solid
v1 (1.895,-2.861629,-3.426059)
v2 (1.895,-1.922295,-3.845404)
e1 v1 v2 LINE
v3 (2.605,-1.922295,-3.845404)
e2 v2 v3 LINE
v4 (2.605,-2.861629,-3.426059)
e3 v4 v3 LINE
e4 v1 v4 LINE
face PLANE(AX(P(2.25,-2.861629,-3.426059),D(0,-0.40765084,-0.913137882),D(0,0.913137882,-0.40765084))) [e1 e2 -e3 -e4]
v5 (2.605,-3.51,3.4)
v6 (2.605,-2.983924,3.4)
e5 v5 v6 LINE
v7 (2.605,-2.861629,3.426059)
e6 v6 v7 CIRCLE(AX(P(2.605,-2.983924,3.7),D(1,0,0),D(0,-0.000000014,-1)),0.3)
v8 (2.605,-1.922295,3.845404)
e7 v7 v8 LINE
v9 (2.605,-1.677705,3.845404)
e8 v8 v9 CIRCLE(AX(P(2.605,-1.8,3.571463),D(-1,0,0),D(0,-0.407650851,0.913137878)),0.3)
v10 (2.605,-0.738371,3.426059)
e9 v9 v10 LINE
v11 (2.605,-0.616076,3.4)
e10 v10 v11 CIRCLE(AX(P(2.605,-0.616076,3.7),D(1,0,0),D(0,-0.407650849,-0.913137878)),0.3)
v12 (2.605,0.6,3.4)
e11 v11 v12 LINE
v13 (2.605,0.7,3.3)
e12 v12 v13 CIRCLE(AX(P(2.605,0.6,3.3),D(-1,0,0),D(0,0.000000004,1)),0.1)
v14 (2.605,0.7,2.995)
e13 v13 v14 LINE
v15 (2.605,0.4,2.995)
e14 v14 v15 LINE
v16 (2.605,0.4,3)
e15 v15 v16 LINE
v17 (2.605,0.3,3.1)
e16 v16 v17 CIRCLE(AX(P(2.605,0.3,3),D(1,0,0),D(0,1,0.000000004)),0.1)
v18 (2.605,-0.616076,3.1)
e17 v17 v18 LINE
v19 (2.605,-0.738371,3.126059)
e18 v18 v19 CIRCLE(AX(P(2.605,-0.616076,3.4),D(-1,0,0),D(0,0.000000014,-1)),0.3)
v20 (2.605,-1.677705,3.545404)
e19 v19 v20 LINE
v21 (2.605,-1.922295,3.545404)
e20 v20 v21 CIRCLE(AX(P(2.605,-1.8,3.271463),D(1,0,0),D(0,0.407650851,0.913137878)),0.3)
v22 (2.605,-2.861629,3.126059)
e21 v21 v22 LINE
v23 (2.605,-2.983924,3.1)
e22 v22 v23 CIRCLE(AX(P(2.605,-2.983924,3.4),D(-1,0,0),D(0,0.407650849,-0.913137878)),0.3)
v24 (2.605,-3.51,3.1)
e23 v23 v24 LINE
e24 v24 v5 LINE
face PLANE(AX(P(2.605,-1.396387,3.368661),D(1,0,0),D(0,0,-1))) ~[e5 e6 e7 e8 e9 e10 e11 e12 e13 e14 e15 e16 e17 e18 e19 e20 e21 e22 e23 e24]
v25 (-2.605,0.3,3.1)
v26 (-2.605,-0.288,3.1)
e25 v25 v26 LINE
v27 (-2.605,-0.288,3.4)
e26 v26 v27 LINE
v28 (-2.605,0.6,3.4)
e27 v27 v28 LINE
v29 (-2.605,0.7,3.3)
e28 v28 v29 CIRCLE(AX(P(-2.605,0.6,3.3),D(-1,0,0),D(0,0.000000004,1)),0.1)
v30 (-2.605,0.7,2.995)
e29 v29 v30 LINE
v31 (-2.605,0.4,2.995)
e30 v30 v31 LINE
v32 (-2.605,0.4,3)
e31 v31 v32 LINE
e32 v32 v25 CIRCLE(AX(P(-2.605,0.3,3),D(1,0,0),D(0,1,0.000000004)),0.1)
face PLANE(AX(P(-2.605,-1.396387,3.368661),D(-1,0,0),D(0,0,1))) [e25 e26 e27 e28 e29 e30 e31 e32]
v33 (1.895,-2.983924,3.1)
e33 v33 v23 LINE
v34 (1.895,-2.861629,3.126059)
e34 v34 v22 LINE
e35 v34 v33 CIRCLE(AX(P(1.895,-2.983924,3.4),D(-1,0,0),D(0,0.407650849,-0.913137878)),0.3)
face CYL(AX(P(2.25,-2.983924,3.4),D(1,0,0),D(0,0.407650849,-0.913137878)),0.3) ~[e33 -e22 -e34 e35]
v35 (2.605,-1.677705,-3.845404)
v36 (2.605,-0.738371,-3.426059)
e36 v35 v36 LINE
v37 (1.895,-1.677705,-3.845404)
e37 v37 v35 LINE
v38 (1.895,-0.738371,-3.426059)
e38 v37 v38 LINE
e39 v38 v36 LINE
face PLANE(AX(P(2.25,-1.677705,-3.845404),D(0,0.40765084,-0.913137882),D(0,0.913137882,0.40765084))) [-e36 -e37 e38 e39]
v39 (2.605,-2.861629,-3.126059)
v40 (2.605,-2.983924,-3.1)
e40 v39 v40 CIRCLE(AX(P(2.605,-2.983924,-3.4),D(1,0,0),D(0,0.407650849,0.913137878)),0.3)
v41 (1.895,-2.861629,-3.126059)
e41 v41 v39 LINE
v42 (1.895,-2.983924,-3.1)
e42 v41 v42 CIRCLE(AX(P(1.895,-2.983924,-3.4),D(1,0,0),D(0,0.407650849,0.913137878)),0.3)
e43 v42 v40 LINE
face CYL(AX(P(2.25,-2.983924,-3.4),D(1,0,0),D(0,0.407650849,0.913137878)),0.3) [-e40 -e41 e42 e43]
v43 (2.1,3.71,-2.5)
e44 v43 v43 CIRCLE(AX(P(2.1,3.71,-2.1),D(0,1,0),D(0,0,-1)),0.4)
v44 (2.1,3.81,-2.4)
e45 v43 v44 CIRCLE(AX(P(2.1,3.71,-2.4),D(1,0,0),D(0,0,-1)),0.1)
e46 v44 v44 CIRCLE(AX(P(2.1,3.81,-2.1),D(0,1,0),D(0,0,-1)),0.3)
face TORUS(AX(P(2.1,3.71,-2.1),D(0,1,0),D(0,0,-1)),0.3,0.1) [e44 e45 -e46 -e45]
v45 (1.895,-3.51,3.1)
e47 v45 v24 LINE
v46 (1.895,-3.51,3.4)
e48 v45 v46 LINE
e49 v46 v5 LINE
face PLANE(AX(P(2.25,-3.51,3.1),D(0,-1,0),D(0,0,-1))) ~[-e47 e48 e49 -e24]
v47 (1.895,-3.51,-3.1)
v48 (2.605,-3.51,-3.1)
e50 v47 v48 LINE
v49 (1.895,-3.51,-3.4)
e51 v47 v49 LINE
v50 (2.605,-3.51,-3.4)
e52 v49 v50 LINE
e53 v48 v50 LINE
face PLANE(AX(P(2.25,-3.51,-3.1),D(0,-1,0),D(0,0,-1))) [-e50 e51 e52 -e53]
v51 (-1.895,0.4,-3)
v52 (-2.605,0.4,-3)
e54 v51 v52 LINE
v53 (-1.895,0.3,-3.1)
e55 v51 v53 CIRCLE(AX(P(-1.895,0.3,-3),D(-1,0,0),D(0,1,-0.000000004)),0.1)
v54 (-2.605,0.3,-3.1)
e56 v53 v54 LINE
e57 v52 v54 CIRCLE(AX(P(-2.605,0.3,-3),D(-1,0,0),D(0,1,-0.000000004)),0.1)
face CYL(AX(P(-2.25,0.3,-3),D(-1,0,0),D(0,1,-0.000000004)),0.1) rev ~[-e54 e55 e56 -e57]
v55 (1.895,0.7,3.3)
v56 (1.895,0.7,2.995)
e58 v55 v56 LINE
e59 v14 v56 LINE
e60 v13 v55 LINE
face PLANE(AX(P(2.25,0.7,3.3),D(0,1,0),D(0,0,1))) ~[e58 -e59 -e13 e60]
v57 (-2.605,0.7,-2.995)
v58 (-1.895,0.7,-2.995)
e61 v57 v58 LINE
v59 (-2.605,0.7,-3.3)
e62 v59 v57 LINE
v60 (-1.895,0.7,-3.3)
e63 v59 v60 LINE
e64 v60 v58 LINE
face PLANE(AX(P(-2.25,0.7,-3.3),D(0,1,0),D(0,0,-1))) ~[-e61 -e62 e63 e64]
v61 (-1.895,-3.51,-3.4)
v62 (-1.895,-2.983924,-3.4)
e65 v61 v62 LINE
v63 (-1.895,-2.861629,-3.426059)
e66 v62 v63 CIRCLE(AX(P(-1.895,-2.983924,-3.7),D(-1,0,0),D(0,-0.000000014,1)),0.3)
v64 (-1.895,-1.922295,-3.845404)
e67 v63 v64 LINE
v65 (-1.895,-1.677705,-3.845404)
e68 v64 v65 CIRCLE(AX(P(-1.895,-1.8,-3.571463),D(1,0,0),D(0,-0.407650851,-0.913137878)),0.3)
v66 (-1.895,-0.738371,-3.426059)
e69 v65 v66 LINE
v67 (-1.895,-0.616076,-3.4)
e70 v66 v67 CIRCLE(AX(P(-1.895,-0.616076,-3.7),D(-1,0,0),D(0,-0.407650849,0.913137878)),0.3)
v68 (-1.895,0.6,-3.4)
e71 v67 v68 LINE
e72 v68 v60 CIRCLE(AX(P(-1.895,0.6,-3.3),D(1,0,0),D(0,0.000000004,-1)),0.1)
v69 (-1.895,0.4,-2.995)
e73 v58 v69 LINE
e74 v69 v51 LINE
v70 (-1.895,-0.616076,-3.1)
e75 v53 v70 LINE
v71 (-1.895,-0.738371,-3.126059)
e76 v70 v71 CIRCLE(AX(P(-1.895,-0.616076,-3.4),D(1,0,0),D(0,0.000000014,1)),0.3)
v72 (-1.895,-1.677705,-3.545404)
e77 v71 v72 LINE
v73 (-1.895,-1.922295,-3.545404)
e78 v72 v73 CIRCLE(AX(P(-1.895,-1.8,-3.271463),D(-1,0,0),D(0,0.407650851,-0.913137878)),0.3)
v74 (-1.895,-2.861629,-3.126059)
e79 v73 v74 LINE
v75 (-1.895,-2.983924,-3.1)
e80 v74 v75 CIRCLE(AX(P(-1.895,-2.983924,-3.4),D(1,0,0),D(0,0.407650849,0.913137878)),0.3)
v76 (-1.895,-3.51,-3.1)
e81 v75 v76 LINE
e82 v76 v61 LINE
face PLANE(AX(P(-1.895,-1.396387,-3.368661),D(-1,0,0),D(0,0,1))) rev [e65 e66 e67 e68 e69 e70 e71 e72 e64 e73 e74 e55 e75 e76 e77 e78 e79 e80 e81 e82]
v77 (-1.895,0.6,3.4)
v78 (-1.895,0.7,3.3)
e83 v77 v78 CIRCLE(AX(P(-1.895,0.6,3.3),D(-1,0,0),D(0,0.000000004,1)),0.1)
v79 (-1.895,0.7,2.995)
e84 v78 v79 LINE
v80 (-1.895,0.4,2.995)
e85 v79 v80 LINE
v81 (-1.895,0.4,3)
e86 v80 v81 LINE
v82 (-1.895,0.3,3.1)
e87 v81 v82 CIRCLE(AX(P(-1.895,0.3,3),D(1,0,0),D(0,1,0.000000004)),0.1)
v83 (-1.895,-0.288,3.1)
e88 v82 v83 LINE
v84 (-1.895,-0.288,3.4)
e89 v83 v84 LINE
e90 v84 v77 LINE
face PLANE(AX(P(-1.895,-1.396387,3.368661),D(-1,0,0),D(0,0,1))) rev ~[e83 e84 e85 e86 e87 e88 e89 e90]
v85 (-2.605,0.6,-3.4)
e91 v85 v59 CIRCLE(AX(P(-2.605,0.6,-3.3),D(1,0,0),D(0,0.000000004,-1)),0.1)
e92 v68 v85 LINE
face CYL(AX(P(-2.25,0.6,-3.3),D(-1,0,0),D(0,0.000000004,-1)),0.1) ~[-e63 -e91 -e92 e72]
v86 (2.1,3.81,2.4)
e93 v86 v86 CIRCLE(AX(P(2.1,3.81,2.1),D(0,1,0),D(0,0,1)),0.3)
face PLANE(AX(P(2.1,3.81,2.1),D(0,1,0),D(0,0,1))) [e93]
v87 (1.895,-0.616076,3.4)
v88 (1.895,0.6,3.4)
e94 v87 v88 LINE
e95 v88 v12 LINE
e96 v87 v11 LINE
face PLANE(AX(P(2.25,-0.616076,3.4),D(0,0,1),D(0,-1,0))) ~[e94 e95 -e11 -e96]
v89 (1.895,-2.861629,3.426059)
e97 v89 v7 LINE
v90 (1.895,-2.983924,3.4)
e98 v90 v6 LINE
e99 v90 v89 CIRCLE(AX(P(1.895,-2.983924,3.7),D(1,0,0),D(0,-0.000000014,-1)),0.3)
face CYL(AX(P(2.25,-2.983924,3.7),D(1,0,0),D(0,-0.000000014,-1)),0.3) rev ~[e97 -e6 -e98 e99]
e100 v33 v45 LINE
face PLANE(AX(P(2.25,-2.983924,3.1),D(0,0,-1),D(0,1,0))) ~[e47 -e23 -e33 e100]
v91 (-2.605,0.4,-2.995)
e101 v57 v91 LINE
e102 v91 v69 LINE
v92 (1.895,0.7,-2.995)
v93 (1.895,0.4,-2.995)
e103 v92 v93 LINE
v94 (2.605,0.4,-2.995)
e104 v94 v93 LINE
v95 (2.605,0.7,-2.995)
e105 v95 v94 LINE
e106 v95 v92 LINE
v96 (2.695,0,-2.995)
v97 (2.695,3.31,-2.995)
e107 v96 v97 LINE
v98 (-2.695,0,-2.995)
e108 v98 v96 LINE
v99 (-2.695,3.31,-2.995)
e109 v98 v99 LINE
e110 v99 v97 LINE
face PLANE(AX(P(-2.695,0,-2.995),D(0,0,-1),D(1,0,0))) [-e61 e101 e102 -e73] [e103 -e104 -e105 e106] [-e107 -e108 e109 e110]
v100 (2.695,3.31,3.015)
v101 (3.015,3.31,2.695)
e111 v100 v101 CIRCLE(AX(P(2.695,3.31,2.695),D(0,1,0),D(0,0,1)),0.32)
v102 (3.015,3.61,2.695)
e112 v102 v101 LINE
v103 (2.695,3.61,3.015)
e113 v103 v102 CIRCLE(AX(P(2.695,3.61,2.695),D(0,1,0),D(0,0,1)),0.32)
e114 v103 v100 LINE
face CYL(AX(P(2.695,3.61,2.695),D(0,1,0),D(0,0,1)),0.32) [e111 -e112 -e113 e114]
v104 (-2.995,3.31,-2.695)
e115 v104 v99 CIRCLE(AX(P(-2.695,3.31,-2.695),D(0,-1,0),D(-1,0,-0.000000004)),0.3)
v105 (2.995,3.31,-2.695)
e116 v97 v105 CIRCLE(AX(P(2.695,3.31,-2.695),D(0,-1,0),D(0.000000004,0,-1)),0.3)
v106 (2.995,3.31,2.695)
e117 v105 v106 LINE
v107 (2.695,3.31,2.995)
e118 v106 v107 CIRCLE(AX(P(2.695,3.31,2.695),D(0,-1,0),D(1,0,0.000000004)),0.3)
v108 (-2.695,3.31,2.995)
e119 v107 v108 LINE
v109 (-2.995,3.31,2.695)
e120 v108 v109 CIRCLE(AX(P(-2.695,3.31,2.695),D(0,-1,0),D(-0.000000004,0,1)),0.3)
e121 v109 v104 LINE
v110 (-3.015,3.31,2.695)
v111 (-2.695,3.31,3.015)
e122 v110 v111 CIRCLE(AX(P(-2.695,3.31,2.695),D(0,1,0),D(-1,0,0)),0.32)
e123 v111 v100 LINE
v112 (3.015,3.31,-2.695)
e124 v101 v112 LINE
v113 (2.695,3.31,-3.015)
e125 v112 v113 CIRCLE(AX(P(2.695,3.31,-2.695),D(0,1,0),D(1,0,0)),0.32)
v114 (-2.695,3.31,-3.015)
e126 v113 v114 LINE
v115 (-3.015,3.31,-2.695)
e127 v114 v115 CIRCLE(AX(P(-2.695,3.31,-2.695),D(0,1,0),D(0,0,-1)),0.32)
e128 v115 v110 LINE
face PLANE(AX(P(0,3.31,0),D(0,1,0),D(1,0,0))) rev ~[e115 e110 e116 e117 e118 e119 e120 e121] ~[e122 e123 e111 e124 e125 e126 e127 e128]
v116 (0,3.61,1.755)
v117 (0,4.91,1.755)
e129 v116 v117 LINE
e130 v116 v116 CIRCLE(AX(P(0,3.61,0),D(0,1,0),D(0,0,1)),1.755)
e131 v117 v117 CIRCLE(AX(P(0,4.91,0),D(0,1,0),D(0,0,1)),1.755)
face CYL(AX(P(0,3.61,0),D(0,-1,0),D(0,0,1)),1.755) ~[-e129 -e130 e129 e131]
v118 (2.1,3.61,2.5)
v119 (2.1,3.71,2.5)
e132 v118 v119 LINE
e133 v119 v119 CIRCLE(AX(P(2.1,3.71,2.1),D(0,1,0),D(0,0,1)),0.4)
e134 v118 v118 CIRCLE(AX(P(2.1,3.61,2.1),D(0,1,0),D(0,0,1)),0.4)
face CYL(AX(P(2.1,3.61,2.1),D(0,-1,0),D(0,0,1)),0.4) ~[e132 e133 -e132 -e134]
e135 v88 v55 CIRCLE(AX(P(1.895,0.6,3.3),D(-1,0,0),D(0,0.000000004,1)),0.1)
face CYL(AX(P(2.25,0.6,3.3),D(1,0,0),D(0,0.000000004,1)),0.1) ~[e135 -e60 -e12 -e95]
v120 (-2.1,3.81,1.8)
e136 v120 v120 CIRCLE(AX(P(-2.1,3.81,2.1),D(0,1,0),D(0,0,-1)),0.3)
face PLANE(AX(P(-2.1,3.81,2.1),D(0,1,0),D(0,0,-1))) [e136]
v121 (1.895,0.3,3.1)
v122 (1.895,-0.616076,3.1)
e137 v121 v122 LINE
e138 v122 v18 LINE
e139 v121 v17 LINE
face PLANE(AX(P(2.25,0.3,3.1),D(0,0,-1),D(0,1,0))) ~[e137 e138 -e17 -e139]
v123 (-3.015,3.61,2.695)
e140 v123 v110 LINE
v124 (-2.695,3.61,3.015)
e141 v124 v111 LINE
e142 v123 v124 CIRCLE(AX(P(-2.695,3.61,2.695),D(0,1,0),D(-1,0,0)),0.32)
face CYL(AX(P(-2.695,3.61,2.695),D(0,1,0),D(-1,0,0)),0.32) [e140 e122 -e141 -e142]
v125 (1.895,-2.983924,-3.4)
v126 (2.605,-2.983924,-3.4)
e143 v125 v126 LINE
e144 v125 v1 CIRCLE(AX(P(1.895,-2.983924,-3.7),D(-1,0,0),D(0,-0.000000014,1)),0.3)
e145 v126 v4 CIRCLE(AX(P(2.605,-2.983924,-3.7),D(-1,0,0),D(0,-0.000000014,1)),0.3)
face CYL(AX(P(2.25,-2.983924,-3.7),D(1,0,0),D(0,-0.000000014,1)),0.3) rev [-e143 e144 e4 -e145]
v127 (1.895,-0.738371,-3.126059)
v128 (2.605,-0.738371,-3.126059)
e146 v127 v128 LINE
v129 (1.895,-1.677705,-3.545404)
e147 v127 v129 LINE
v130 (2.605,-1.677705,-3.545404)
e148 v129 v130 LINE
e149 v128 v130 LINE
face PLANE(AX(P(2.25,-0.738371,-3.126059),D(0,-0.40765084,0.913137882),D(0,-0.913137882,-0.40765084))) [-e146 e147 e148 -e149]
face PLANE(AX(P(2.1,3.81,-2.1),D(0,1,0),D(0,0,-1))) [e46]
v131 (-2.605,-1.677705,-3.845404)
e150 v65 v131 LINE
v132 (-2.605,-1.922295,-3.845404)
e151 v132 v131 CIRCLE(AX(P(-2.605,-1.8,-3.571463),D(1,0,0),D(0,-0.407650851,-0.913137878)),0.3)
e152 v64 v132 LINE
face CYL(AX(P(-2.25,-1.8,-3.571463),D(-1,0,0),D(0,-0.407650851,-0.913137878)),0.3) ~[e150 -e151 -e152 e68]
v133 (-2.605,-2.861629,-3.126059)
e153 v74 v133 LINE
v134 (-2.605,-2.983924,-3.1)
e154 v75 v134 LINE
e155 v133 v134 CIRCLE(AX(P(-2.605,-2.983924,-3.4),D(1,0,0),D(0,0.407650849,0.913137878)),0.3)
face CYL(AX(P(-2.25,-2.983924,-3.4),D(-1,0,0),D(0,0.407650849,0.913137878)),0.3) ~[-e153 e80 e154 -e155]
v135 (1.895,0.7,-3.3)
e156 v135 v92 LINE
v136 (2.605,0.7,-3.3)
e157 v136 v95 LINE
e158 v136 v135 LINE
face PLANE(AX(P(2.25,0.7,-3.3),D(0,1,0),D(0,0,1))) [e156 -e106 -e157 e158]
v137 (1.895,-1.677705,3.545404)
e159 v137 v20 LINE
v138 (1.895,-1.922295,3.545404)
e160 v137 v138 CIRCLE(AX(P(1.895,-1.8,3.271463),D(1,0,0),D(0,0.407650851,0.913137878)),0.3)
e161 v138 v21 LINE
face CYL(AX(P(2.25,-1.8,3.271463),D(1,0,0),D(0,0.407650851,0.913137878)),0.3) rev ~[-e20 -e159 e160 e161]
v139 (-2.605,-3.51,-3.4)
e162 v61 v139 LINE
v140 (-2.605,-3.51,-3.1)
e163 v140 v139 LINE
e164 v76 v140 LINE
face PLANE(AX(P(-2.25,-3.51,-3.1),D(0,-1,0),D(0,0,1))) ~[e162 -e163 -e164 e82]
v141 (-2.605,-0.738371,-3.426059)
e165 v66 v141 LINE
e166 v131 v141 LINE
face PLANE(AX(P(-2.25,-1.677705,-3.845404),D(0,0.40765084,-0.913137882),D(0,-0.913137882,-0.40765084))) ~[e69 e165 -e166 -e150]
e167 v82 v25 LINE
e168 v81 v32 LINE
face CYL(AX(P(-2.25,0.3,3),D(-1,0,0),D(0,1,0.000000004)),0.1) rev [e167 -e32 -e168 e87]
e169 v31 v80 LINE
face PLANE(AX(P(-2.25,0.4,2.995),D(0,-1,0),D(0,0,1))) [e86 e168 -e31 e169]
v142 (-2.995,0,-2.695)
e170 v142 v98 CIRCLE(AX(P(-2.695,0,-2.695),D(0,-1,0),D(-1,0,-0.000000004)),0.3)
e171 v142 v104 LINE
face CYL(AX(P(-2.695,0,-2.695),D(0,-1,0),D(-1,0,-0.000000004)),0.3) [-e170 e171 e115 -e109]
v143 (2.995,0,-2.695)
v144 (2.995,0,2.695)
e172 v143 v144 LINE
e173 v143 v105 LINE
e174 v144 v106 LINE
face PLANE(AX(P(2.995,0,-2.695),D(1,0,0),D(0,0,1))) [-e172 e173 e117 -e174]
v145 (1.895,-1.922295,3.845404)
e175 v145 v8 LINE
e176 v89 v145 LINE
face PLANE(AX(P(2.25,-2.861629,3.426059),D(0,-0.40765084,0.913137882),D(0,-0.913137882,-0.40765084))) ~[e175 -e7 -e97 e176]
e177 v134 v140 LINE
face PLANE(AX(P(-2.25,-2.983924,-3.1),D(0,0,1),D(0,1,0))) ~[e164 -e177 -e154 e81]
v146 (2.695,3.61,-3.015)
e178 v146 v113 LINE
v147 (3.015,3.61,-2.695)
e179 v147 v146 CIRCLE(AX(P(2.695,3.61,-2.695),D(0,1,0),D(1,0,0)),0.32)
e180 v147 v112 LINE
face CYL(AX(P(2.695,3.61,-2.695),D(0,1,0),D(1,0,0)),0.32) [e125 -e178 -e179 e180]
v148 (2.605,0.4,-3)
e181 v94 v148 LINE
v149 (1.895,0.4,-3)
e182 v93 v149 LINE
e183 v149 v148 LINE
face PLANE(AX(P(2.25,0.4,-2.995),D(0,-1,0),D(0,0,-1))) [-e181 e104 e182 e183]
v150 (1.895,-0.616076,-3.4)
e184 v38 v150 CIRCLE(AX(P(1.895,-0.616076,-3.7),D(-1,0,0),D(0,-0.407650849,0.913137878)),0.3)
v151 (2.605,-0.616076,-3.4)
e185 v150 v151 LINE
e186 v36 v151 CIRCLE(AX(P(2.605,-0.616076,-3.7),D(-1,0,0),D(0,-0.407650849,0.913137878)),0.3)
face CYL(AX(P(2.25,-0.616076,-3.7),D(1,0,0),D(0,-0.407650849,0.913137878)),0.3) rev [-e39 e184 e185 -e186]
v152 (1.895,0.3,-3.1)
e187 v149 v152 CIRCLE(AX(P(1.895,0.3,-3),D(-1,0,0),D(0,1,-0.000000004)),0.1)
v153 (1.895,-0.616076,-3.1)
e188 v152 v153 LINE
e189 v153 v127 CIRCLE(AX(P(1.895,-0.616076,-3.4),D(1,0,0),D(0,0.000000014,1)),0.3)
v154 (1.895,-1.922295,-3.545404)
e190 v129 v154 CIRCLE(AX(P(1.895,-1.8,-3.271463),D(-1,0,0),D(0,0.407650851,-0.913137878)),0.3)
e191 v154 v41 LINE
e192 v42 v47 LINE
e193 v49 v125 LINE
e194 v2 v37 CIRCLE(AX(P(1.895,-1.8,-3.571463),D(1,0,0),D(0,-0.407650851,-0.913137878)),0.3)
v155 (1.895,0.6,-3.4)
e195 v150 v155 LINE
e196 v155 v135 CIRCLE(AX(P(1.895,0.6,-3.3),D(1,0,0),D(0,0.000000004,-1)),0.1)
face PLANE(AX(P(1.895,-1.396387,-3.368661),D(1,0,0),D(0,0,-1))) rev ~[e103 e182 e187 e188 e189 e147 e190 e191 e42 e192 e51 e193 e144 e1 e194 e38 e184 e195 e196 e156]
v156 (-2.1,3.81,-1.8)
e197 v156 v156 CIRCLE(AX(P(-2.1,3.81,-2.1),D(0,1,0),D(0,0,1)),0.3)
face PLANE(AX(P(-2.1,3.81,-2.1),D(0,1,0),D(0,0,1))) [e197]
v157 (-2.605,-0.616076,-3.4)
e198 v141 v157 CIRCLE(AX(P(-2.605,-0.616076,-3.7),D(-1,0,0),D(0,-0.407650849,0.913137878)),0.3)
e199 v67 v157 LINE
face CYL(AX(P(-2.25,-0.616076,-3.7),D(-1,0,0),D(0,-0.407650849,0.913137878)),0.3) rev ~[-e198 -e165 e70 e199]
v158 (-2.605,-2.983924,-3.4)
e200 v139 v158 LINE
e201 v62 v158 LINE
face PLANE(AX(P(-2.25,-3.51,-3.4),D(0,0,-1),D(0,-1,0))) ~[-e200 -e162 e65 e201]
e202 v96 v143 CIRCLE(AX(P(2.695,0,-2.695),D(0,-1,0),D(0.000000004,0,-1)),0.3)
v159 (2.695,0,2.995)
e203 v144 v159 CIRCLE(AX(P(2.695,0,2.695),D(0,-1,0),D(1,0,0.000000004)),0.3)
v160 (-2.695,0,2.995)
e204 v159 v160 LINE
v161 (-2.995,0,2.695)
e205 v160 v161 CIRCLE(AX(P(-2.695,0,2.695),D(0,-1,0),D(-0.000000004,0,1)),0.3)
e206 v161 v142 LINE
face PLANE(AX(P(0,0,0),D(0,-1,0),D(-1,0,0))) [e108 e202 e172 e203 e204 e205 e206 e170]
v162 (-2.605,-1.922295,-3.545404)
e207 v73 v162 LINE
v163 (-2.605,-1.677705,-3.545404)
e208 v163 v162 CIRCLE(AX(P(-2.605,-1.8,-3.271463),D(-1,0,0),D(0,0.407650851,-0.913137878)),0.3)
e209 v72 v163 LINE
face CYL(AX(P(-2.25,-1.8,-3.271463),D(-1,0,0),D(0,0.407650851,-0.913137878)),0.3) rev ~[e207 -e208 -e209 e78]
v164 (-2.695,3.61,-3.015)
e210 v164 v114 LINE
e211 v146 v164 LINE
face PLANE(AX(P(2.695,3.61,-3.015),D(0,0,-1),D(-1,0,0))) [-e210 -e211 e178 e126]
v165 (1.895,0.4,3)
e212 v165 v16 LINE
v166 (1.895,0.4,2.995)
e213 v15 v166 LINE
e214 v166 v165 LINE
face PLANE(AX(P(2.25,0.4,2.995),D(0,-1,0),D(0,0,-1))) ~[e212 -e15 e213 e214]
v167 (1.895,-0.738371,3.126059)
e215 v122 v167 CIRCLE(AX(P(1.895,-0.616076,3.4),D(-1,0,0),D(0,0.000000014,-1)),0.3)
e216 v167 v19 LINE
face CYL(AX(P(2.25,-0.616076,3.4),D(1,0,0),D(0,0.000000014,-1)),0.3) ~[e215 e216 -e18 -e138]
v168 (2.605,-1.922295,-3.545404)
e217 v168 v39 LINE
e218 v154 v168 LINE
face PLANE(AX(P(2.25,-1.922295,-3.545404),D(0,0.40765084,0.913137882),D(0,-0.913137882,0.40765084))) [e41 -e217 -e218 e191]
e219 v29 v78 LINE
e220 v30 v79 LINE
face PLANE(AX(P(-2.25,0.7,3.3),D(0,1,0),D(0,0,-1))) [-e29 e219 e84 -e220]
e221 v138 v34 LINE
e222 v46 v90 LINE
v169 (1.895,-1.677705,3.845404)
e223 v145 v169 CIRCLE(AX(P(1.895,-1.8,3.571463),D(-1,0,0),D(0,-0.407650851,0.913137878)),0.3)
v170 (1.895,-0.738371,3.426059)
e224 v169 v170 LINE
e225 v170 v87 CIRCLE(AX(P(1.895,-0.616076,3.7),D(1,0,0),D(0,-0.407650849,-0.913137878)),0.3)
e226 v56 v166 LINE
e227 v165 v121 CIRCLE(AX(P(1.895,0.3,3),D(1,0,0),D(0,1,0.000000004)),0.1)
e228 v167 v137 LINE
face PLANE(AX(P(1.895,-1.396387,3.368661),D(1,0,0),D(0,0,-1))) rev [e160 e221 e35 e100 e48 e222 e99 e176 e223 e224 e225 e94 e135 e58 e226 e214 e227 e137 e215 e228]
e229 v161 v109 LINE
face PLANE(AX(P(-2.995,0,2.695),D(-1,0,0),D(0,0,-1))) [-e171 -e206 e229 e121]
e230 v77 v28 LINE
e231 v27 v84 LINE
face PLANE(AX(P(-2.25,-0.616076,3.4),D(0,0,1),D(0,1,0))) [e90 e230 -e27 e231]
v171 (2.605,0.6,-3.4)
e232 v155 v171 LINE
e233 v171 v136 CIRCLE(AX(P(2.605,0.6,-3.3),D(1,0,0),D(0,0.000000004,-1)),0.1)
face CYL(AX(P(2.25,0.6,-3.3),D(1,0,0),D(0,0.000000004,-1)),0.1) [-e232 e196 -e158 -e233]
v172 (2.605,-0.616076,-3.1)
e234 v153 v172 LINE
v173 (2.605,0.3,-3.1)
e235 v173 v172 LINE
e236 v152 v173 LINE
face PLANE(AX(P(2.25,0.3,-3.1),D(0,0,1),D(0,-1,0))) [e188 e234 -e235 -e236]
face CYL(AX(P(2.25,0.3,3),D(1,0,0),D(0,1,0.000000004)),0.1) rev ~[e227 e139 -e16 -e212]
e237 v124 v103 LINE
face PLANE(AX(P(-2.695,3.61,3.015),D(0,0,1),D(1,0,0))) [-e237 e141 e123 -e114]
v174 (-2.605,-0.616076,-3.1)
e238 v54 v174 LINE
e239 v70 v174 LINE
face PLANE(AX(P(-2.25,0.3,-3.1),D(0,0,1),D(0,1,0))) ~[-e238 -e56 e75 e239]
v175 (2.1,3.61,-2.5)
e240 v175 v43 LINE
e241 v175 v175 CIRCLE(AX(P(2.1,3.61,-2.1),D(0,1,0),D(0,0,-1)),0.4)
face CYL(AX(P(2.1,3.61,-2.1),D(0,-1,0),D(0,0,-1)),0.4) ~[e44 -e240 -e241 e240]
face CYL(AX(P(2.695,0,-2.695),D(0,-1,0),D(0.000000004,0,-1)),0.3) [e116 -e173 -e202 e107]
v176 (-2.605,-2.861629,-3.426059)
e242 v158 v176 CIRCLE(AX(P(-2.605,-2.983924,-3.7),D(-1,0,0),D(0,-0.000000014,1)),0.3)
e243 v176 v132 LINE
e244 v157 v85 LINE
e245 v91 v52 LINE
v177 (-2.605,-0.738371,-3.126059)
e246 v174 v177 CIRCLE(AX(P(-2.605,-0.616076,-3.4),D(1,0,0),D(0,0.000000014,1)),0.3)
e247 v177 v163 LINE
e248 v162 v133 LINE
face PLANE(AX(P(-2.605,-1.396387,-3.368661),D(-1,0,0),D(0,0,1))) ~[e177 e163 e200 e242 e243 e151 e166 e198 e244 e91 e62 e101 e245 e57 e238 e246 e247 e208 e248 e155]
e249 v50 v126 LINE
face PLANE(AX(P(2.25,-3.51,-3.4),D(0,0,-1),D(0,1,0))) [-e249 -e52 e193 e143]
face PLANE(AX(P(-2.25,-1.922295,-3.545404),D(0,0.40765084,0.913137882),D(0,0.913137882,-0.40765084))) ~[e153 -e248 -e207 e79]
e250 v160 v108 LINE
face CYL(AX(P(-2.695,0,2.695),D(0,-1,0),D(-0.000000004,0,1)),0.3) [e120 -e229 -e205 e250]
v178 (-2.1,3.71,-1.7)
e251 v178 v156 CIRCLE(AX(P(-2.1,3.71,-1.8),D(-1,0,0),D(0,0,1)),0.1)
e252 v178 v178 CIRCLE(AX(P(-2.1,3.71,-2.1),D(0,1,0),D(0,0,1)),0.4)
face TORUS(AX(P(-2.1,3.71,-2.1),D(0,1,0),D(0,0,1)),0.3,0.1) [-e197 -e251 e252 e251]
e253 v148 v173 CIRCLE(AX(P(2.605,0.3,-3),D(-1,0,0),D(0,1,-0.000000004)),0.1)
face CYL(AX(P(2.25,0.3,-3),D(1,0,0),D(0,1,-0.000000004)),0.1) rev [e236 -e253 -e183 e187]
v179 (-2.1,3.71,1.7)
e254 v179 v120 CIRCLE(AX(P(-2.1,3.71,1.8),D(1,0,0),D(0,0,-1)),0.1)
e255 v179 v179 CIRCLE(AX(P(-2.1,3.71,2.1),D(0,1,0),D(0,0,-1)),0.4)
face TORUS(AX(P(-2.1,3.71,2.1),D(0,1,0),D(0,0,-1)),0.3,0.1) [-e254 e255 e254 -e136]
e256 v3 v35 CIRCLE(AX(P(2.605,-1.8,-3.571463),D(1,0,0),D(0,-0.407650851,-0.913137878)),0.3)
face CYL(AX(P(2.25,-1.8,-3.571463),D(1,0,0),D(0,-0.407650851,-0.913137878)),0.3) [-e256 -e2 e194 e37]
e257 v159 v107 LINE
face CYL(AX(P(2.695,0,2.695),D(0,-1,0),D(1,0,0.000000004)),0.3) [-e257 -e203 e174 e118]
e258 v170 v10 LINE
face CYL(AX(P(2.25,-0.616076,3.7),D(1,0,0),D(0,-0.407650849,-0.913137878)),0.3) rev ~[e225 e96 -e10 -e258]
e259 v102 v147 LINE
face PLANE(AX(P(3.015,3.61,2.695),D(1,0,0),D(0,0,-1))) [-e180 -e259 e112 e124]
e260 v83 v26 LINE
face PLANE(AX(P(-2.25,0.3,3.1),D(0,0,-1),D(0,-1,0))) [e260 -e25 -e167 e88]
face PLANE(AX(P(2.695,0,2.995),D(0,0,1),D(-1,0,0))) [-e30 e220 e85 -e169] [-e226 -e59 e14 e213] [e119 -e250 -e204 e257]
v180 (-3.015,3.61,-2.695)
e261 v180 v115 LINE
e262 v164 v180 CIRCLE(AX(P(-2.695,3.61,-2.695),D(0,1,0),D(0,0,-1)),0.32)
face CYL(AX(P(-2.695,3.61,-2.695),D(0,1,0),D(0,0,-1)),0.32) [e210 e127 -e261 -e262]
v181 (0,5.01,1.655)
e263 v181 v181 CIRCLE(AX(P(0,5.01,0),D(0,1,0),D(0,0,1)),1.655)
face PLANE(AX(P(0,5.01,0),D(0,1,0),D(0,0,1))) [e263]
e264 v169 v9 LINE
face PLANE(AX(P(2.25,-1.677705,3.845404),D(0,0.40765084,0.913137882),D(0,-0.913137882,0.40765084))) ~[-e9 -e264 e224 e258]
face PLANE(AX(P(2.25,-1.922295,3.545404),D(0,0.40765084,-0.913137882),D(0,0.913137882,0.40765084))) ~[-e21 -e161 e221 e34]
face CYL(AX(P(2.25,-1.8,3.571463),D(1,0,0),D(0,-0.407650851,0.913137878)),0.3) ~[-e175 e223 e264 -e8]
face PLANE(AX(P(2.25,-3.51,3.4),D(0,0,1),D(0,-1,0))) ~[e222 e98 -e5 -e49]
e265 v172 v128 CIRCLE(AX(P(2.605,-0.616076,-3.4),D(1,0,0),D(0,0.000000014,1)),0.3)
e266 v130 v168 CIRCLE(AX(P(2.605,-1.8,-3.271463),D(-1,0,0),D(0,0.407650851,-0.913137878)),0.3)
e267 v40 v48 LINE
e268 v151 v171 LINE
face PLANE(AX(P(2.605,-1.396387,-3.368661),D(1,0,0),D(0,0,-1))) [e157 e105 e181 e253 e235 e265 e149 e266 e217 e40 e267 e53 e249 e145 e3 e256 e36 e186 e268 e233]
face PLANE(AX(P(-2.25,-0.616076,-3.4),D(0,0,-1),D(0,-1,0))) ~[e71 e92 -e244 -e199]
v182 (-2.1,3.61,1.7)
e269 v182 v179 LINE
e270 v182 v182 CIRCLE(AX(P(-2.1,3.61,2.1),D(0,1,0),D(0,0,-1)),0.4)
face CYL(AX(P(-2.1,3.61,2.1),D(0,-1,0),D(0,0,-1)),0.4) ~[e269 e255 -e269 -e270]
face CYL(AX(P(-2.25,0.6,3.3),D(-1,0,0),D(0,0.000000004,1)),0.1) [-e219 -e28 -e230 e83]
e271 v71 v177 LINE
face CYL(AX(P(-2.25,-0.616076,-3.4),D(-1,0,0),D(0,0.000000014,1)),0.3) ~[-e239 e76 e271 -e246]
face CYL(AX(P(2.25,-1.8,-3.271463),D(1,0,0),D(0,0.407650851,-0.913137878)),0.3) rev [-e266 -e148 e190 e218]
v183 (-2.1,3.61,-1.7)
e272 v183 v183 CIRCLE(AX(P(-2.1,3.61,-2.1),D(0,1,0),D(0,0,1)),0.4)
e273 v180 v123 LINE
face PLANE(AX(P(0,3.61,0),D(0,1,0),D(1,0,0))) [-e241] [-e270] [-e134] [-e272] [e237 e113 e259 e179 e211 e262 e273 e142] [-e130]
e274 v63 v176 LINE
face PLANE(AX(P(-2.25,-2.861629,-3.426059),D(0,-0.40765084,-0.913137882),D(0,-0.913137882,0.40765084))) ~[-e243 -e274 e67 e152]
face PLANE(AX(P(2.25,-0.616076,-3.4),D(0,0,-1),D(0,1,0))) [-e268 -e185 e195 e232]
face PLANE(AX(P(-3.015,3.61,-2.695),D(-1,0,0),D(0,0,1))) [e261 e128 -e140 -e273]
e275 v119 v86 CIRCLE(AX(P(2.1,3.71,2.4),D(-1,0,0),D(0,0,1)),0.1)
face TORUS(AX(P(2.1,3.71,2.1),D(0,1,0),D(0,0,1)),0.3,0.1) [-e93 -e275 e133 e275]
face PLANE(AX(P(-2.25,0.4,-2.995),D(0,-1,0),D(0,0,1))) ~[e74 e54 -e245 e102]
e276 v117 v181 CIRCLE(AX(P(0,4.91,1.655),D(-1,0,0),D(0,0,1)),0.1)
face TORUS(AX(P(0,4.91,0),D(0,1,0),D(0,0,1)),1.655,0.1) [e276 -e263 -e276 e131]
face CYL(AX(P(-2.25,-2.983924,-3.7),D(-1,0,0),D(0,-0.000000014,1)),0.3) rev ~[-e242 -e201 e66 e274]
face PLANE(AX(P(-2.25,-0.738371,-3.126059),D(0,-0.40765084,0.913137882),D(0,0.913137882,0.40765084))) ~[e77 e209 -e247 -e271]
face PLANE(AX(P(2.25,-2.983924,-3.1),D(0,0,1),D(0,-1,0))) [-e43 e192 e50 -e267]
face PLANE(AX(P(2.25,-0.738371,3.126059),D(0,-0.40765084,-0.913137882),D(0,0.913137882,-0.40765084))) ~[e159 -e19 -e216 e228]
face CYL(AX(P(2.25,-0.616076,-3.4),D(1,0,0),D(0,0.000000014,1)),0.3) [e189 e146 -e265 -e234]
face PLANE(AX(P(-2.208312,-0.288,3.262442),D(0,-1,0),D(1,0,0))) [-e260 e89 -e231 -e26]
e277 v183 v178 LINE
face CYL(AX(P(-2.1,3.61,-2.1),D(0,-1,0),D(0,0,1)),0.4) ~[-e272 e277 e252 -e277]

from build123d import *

# Parameters (mm, degrees)
RESSALTO_EXTRUS_O1_DEPTH = 3.61
ESBO_O2_R                = 1.755
RESSALTO_EXTRUS_O2_DEPTH = 1.4
FILETE1_R                = 0.1
ESBO_O3_R                = 0.4
RESSALTO_EXTRUS_O3_DEPTH = 0.2
FILETE2_R                = 0.1
RESSALTO_EXTRUS_O4_DEPTH = 0.3
RESSALTO_EXTRUS_O5_DEPTH = 0.355
ESPELHAR2_COPY_1_DEPTH   = 0.355
CUT_EXTRUDE1_START       = -3.222
SKETCH1_R                = 1.13730051
CUT_EXTRUDE1_DEPTH       = 3.222


with BuildPart() as part:
    # Esboço1 → Ressalto-extrusão1 (new body)
    with BuildSketch(Plane(origin=(0, 0, 0), x_dir=(1, 0, 0), z_dir=(0, 1, 0))):
        with BuildLine():
            Line((-2.695, 2.995), (2.695, 2.995))
            ThreePointArc((2.695, 2.995), (2.907132034, 2.907132034), (2.995, 2.695))
            Line((2.995, 2.695), (2.995, -2.695))
            ThreePointArc((2.995, -2.695), (2.907132034, -2.907132034), (2.695, -2.995))
            Line((2.695, -2.995), (-2.695, -2.995))
            ThreePointArc((-2.695, -2.995), (-2.907132034, -2.907132034), (-2.995, -2.695))
            Line((-2.995, -2.695), (-2.995, 2.695))
            ThreePointArc((-2.995, 2.695), (-2.907132034, 2.907132034), (-2.695, 2.995))
        make_face()
    extrude(amount=RESSALTO_EXTRUS_O1_DEPTH)



with BuildPart() as body_2:
    # Esboço2 → Ressalto-extrusão2 (new body)
    with BuildSketch(Plane(origin=(0, 3.61, 0), x_dir=(1, 0, 0), z_dir=(0, 1, 0))):
        with Locations(Location((0, 0, 0), (0, 0, 270))):
            Circle(ESBO_O2_R)
    extrude(amount=RESSALTO_EXTRUS_O2_DEPTH)

    # Filete1
    filete1_edges = [body_2.edges().sort_by_distance(p)[0] for p in [
        (0, 5.01, -1.755),
    ]]
    fillet(filete1_edges, radius=FILETE1_R)


with BuildPart() as part_1:
    add(part.part)

    add(body_2.part)  # Ressalto-extrusão3 merges body 2
    # Esboço3 → Ressalto-extrusão3 (add)
    with BuildSketch(Plane(origin=(0, 3.61, 0), x_dir=(1, 0, 0), z_dir=(0, 1, 0))):
        with Locations(Location((-2.1, 2.1, 0), (0, 0, 270))):
            Circle(ESBO_O3_R)
        with Locations(Location((2.1, 2.1, 0), (0, 0, 90))):
            Circle(ESBO_O3_R)
        with Locations(Location((2.1, -2.1, 0), (0, 0, 270))):
            Circle(ESBO_O3_R)
        with Locations(Location((-2.1, -2.1, 0), (0, 0, 90))):
            Circle(ESBO_O3_R)
    extrude(amount=RESSALTO_EXTRUS_O3_DEPTH)

    # Filete2
    filete2_edges = [part_1.edges().sort_by_distance(p)[0] for p in [
        (-2.1, 3.81, -2.5),
        (2.1, 3.81, -1.7),
        (2.1, 3.81, 1.7),
        (-2.1, 3.81, 2.5),
    ]]
    fillet(filete2_edges, radius=FILETE2_R)

    # Esboço4 → Ressalto-extrusão4 (add)
    with BuildSketch(Plane(origin=(0, 3.61, 0), x_dir=(1, 0, 0), z_dir=(0, 1, 0))):
        with BuildLine():
            Line((-2.695, -3.015), (2.695, -3.015))
            ThreePointArc((2.695, -3.015), (2.92127417, -2.92127417), (3.015, -2.695))
            Line((3.015, -2.695), (3.015, 2.695))
            ThreePointArc((3.015, 2.695), (2.92127417, 2.92127417), (2.695, 3.015))
            Line((2.695, 3.015), (-2.695, 3.015))
            ThreePointArc((-2.695, 3.015), (-2.92127417, 2.92127417), (-3.015, 2.695))
            Line((-3.015, 2.695), (-3.015, -2.695))
            ThreePointArc((-3.015, -2.695), (-2.92127417, -2.92127417), (-2.695, -3.015))
        make_face()
    extrude(amount=-RESSALTO_EXTRUS_O4_DEPTH)

    # Esboço5 → Ressalto-extrusão5 (add, symmetric)
    with BuildSketch(Plane(origin=(2.25, 0, 0), x_dir=(0, 0, -1), z_dir=(1, 0, 0))):
        with BuildLine():
            Line((2.995, 0.4), (3, 0.4))
            ThreePointArc((3, 0.4), (3.070710678, 0.370710678), (3.1, 0.3))
            Line((3.1, 0.3), (3.1, -0.616076091))
            ThreePointArc((3.1, -0.616076091), (3.106586972, -0.67859645), (3.126058635, -0.738371343))
            Line((3.126058635, -0.738371343), (3.545403905, -1.677704748))
            ThreePointArc((3.545403905, -1.677704748), (3.571462541, -1.8), (3.545403905, -1.922295252))
            Line((3.545403905, -1.922295252), (3.126058635, -2.861628657))
            ThreePointArc((3.126058635, -2.861628657), (3.106586972, -2.92140355), (3.1, -2.983923909))
            Line((3.1, -2.983923909), (3.1, -3.51))
            Line((3.1, -3.51), (3.4, -3.51))
            Line((3.4, -3.51), (3.4, -2.983923909))
            ThreePointArc((3.4, -2.983923909), (3.406586972, -2.92140355), (3.426058635, -2.861628657))
            Line((3.426058635, -2.861628657), (3.845403905, -1.922295252))
            ThreePointArc((3.845403905, -1.922295252), (3.871462541, -1.8), (3.845403905, -1.677704748))
            Line((3.845403905, -1.677704748), (3.426058635, -0.738371343))
            ThreePointArc((3.426058635, -0.738371343), (3.406586972, -0.67859645), (3.4, -0.616076091))
            Line((3.4, -0.616076091), (3.4, 0.6))
            ThreePointArc((3.4, 0.6), (3.370710678, 0.670710678), (3.3, 0.7))
            Line((3.3, 0.7), (2.995, 0.7))
            Line((2.995, 0.7), (2.995, 0.4))
        make_face()
    ressalto_extrus_o5 = extrude(amount=RESSALTO_EXTRUS_O5_DEPTH, both=True)

    # Espelhar1: Ressalto-extrusão5 across plane
    add(ressalto_extrus_o5.mirror(Plane(origin=(0, 0, 0), x_dir=(0, 0, 1), z_dir=(1, 0, 0))))

    # Espelhar2: Ressalto-extrusão5 across plane
    add(ressalto_extrus_o5.mirror(Plane.XY))

    # Espelhar2 copy 1 sketch → Espelhar2 copy 1 (add, symmetric)
    with BuildSketch(Plane.ZY.offset(2.25)):
        with BuildLine():
            Line((2.995, 0.4), (3, 0.4))
            ThreePointArc((3, 0.4), (3.070710678, 0.370710678), (3.1, 0.3))
            Line((3.1, 0.3), (3.1, -0.616076091))
            ThreePointArc((3.1, -0.616076091), (3.106586972, -0.67859645), (3.126058635, -0.738371343))
            Line((3.126058635, -0.738371343), (3.545403905, -1.677704748))
            ThreePointArc((3.545403905, -1.677704748), (3.571462541, -1.8), (3.545403905, -1.922295252))
            Line((3.545403905, -1.922295252), (3.126058635, -2.861628657))
            ThreePointArc((3.126058635, -2.861628657), (3.106586972, -2.92140355), (3.1, -2.983923909))
            Line((3.1, -2.983923909), (3.1, -3.51))
            Line((3.1, -3.51), (3.4, -3.51))
            Line((3.4, -3.51), (3.4, -2.983923909))
            ThreePointArc((3.4, -2.983923909), (3.406586972, -2.92140355), (3.426058635, -2.861628657))
            Line((3.426058635, -2.861628657), (3.845403905, -1.922295252))
            ThreePointArc((3.845403905, -1.922295252), (3.871462541, -1.8), (3.845403905, -1.677704748))
            Line((3.845403905, -1.677704748), (3.426058635, -0.738371343))
            ThreePointArc((3.426058635, -0.738371343), (3.406586972, -0.67859645), (3.4, -0.616076091))
            Line((3.4, -0.616076091), (3.4, 0.6))
            ThreePointArc((3.4, 0.6), (3.370710678, 0.670710678), (3.3, 0.7))
            Line((3.3, 0.7), (2.995, 0.7))
            Line((2.995, 0.7), (2.995, 0.4))
        make_face()
    extrude(amount=ESPELHAR2_COPY_1_DEPTH, both=True)

    # Sketch1 → Cut-Extrude1 (cut)
    with BuildSketch(Plane.XZ.offset(3.51).offset(CUT_EXTRUDE1_START)):
        with Locations((-2.208312021, 3.262441574)):
            Circle(SKETCH1_R)
    extrude(amount=CUT_EXTRUDE1_DEPTH, mode=Mode.SUBTRACT)


solid = part_1.part
